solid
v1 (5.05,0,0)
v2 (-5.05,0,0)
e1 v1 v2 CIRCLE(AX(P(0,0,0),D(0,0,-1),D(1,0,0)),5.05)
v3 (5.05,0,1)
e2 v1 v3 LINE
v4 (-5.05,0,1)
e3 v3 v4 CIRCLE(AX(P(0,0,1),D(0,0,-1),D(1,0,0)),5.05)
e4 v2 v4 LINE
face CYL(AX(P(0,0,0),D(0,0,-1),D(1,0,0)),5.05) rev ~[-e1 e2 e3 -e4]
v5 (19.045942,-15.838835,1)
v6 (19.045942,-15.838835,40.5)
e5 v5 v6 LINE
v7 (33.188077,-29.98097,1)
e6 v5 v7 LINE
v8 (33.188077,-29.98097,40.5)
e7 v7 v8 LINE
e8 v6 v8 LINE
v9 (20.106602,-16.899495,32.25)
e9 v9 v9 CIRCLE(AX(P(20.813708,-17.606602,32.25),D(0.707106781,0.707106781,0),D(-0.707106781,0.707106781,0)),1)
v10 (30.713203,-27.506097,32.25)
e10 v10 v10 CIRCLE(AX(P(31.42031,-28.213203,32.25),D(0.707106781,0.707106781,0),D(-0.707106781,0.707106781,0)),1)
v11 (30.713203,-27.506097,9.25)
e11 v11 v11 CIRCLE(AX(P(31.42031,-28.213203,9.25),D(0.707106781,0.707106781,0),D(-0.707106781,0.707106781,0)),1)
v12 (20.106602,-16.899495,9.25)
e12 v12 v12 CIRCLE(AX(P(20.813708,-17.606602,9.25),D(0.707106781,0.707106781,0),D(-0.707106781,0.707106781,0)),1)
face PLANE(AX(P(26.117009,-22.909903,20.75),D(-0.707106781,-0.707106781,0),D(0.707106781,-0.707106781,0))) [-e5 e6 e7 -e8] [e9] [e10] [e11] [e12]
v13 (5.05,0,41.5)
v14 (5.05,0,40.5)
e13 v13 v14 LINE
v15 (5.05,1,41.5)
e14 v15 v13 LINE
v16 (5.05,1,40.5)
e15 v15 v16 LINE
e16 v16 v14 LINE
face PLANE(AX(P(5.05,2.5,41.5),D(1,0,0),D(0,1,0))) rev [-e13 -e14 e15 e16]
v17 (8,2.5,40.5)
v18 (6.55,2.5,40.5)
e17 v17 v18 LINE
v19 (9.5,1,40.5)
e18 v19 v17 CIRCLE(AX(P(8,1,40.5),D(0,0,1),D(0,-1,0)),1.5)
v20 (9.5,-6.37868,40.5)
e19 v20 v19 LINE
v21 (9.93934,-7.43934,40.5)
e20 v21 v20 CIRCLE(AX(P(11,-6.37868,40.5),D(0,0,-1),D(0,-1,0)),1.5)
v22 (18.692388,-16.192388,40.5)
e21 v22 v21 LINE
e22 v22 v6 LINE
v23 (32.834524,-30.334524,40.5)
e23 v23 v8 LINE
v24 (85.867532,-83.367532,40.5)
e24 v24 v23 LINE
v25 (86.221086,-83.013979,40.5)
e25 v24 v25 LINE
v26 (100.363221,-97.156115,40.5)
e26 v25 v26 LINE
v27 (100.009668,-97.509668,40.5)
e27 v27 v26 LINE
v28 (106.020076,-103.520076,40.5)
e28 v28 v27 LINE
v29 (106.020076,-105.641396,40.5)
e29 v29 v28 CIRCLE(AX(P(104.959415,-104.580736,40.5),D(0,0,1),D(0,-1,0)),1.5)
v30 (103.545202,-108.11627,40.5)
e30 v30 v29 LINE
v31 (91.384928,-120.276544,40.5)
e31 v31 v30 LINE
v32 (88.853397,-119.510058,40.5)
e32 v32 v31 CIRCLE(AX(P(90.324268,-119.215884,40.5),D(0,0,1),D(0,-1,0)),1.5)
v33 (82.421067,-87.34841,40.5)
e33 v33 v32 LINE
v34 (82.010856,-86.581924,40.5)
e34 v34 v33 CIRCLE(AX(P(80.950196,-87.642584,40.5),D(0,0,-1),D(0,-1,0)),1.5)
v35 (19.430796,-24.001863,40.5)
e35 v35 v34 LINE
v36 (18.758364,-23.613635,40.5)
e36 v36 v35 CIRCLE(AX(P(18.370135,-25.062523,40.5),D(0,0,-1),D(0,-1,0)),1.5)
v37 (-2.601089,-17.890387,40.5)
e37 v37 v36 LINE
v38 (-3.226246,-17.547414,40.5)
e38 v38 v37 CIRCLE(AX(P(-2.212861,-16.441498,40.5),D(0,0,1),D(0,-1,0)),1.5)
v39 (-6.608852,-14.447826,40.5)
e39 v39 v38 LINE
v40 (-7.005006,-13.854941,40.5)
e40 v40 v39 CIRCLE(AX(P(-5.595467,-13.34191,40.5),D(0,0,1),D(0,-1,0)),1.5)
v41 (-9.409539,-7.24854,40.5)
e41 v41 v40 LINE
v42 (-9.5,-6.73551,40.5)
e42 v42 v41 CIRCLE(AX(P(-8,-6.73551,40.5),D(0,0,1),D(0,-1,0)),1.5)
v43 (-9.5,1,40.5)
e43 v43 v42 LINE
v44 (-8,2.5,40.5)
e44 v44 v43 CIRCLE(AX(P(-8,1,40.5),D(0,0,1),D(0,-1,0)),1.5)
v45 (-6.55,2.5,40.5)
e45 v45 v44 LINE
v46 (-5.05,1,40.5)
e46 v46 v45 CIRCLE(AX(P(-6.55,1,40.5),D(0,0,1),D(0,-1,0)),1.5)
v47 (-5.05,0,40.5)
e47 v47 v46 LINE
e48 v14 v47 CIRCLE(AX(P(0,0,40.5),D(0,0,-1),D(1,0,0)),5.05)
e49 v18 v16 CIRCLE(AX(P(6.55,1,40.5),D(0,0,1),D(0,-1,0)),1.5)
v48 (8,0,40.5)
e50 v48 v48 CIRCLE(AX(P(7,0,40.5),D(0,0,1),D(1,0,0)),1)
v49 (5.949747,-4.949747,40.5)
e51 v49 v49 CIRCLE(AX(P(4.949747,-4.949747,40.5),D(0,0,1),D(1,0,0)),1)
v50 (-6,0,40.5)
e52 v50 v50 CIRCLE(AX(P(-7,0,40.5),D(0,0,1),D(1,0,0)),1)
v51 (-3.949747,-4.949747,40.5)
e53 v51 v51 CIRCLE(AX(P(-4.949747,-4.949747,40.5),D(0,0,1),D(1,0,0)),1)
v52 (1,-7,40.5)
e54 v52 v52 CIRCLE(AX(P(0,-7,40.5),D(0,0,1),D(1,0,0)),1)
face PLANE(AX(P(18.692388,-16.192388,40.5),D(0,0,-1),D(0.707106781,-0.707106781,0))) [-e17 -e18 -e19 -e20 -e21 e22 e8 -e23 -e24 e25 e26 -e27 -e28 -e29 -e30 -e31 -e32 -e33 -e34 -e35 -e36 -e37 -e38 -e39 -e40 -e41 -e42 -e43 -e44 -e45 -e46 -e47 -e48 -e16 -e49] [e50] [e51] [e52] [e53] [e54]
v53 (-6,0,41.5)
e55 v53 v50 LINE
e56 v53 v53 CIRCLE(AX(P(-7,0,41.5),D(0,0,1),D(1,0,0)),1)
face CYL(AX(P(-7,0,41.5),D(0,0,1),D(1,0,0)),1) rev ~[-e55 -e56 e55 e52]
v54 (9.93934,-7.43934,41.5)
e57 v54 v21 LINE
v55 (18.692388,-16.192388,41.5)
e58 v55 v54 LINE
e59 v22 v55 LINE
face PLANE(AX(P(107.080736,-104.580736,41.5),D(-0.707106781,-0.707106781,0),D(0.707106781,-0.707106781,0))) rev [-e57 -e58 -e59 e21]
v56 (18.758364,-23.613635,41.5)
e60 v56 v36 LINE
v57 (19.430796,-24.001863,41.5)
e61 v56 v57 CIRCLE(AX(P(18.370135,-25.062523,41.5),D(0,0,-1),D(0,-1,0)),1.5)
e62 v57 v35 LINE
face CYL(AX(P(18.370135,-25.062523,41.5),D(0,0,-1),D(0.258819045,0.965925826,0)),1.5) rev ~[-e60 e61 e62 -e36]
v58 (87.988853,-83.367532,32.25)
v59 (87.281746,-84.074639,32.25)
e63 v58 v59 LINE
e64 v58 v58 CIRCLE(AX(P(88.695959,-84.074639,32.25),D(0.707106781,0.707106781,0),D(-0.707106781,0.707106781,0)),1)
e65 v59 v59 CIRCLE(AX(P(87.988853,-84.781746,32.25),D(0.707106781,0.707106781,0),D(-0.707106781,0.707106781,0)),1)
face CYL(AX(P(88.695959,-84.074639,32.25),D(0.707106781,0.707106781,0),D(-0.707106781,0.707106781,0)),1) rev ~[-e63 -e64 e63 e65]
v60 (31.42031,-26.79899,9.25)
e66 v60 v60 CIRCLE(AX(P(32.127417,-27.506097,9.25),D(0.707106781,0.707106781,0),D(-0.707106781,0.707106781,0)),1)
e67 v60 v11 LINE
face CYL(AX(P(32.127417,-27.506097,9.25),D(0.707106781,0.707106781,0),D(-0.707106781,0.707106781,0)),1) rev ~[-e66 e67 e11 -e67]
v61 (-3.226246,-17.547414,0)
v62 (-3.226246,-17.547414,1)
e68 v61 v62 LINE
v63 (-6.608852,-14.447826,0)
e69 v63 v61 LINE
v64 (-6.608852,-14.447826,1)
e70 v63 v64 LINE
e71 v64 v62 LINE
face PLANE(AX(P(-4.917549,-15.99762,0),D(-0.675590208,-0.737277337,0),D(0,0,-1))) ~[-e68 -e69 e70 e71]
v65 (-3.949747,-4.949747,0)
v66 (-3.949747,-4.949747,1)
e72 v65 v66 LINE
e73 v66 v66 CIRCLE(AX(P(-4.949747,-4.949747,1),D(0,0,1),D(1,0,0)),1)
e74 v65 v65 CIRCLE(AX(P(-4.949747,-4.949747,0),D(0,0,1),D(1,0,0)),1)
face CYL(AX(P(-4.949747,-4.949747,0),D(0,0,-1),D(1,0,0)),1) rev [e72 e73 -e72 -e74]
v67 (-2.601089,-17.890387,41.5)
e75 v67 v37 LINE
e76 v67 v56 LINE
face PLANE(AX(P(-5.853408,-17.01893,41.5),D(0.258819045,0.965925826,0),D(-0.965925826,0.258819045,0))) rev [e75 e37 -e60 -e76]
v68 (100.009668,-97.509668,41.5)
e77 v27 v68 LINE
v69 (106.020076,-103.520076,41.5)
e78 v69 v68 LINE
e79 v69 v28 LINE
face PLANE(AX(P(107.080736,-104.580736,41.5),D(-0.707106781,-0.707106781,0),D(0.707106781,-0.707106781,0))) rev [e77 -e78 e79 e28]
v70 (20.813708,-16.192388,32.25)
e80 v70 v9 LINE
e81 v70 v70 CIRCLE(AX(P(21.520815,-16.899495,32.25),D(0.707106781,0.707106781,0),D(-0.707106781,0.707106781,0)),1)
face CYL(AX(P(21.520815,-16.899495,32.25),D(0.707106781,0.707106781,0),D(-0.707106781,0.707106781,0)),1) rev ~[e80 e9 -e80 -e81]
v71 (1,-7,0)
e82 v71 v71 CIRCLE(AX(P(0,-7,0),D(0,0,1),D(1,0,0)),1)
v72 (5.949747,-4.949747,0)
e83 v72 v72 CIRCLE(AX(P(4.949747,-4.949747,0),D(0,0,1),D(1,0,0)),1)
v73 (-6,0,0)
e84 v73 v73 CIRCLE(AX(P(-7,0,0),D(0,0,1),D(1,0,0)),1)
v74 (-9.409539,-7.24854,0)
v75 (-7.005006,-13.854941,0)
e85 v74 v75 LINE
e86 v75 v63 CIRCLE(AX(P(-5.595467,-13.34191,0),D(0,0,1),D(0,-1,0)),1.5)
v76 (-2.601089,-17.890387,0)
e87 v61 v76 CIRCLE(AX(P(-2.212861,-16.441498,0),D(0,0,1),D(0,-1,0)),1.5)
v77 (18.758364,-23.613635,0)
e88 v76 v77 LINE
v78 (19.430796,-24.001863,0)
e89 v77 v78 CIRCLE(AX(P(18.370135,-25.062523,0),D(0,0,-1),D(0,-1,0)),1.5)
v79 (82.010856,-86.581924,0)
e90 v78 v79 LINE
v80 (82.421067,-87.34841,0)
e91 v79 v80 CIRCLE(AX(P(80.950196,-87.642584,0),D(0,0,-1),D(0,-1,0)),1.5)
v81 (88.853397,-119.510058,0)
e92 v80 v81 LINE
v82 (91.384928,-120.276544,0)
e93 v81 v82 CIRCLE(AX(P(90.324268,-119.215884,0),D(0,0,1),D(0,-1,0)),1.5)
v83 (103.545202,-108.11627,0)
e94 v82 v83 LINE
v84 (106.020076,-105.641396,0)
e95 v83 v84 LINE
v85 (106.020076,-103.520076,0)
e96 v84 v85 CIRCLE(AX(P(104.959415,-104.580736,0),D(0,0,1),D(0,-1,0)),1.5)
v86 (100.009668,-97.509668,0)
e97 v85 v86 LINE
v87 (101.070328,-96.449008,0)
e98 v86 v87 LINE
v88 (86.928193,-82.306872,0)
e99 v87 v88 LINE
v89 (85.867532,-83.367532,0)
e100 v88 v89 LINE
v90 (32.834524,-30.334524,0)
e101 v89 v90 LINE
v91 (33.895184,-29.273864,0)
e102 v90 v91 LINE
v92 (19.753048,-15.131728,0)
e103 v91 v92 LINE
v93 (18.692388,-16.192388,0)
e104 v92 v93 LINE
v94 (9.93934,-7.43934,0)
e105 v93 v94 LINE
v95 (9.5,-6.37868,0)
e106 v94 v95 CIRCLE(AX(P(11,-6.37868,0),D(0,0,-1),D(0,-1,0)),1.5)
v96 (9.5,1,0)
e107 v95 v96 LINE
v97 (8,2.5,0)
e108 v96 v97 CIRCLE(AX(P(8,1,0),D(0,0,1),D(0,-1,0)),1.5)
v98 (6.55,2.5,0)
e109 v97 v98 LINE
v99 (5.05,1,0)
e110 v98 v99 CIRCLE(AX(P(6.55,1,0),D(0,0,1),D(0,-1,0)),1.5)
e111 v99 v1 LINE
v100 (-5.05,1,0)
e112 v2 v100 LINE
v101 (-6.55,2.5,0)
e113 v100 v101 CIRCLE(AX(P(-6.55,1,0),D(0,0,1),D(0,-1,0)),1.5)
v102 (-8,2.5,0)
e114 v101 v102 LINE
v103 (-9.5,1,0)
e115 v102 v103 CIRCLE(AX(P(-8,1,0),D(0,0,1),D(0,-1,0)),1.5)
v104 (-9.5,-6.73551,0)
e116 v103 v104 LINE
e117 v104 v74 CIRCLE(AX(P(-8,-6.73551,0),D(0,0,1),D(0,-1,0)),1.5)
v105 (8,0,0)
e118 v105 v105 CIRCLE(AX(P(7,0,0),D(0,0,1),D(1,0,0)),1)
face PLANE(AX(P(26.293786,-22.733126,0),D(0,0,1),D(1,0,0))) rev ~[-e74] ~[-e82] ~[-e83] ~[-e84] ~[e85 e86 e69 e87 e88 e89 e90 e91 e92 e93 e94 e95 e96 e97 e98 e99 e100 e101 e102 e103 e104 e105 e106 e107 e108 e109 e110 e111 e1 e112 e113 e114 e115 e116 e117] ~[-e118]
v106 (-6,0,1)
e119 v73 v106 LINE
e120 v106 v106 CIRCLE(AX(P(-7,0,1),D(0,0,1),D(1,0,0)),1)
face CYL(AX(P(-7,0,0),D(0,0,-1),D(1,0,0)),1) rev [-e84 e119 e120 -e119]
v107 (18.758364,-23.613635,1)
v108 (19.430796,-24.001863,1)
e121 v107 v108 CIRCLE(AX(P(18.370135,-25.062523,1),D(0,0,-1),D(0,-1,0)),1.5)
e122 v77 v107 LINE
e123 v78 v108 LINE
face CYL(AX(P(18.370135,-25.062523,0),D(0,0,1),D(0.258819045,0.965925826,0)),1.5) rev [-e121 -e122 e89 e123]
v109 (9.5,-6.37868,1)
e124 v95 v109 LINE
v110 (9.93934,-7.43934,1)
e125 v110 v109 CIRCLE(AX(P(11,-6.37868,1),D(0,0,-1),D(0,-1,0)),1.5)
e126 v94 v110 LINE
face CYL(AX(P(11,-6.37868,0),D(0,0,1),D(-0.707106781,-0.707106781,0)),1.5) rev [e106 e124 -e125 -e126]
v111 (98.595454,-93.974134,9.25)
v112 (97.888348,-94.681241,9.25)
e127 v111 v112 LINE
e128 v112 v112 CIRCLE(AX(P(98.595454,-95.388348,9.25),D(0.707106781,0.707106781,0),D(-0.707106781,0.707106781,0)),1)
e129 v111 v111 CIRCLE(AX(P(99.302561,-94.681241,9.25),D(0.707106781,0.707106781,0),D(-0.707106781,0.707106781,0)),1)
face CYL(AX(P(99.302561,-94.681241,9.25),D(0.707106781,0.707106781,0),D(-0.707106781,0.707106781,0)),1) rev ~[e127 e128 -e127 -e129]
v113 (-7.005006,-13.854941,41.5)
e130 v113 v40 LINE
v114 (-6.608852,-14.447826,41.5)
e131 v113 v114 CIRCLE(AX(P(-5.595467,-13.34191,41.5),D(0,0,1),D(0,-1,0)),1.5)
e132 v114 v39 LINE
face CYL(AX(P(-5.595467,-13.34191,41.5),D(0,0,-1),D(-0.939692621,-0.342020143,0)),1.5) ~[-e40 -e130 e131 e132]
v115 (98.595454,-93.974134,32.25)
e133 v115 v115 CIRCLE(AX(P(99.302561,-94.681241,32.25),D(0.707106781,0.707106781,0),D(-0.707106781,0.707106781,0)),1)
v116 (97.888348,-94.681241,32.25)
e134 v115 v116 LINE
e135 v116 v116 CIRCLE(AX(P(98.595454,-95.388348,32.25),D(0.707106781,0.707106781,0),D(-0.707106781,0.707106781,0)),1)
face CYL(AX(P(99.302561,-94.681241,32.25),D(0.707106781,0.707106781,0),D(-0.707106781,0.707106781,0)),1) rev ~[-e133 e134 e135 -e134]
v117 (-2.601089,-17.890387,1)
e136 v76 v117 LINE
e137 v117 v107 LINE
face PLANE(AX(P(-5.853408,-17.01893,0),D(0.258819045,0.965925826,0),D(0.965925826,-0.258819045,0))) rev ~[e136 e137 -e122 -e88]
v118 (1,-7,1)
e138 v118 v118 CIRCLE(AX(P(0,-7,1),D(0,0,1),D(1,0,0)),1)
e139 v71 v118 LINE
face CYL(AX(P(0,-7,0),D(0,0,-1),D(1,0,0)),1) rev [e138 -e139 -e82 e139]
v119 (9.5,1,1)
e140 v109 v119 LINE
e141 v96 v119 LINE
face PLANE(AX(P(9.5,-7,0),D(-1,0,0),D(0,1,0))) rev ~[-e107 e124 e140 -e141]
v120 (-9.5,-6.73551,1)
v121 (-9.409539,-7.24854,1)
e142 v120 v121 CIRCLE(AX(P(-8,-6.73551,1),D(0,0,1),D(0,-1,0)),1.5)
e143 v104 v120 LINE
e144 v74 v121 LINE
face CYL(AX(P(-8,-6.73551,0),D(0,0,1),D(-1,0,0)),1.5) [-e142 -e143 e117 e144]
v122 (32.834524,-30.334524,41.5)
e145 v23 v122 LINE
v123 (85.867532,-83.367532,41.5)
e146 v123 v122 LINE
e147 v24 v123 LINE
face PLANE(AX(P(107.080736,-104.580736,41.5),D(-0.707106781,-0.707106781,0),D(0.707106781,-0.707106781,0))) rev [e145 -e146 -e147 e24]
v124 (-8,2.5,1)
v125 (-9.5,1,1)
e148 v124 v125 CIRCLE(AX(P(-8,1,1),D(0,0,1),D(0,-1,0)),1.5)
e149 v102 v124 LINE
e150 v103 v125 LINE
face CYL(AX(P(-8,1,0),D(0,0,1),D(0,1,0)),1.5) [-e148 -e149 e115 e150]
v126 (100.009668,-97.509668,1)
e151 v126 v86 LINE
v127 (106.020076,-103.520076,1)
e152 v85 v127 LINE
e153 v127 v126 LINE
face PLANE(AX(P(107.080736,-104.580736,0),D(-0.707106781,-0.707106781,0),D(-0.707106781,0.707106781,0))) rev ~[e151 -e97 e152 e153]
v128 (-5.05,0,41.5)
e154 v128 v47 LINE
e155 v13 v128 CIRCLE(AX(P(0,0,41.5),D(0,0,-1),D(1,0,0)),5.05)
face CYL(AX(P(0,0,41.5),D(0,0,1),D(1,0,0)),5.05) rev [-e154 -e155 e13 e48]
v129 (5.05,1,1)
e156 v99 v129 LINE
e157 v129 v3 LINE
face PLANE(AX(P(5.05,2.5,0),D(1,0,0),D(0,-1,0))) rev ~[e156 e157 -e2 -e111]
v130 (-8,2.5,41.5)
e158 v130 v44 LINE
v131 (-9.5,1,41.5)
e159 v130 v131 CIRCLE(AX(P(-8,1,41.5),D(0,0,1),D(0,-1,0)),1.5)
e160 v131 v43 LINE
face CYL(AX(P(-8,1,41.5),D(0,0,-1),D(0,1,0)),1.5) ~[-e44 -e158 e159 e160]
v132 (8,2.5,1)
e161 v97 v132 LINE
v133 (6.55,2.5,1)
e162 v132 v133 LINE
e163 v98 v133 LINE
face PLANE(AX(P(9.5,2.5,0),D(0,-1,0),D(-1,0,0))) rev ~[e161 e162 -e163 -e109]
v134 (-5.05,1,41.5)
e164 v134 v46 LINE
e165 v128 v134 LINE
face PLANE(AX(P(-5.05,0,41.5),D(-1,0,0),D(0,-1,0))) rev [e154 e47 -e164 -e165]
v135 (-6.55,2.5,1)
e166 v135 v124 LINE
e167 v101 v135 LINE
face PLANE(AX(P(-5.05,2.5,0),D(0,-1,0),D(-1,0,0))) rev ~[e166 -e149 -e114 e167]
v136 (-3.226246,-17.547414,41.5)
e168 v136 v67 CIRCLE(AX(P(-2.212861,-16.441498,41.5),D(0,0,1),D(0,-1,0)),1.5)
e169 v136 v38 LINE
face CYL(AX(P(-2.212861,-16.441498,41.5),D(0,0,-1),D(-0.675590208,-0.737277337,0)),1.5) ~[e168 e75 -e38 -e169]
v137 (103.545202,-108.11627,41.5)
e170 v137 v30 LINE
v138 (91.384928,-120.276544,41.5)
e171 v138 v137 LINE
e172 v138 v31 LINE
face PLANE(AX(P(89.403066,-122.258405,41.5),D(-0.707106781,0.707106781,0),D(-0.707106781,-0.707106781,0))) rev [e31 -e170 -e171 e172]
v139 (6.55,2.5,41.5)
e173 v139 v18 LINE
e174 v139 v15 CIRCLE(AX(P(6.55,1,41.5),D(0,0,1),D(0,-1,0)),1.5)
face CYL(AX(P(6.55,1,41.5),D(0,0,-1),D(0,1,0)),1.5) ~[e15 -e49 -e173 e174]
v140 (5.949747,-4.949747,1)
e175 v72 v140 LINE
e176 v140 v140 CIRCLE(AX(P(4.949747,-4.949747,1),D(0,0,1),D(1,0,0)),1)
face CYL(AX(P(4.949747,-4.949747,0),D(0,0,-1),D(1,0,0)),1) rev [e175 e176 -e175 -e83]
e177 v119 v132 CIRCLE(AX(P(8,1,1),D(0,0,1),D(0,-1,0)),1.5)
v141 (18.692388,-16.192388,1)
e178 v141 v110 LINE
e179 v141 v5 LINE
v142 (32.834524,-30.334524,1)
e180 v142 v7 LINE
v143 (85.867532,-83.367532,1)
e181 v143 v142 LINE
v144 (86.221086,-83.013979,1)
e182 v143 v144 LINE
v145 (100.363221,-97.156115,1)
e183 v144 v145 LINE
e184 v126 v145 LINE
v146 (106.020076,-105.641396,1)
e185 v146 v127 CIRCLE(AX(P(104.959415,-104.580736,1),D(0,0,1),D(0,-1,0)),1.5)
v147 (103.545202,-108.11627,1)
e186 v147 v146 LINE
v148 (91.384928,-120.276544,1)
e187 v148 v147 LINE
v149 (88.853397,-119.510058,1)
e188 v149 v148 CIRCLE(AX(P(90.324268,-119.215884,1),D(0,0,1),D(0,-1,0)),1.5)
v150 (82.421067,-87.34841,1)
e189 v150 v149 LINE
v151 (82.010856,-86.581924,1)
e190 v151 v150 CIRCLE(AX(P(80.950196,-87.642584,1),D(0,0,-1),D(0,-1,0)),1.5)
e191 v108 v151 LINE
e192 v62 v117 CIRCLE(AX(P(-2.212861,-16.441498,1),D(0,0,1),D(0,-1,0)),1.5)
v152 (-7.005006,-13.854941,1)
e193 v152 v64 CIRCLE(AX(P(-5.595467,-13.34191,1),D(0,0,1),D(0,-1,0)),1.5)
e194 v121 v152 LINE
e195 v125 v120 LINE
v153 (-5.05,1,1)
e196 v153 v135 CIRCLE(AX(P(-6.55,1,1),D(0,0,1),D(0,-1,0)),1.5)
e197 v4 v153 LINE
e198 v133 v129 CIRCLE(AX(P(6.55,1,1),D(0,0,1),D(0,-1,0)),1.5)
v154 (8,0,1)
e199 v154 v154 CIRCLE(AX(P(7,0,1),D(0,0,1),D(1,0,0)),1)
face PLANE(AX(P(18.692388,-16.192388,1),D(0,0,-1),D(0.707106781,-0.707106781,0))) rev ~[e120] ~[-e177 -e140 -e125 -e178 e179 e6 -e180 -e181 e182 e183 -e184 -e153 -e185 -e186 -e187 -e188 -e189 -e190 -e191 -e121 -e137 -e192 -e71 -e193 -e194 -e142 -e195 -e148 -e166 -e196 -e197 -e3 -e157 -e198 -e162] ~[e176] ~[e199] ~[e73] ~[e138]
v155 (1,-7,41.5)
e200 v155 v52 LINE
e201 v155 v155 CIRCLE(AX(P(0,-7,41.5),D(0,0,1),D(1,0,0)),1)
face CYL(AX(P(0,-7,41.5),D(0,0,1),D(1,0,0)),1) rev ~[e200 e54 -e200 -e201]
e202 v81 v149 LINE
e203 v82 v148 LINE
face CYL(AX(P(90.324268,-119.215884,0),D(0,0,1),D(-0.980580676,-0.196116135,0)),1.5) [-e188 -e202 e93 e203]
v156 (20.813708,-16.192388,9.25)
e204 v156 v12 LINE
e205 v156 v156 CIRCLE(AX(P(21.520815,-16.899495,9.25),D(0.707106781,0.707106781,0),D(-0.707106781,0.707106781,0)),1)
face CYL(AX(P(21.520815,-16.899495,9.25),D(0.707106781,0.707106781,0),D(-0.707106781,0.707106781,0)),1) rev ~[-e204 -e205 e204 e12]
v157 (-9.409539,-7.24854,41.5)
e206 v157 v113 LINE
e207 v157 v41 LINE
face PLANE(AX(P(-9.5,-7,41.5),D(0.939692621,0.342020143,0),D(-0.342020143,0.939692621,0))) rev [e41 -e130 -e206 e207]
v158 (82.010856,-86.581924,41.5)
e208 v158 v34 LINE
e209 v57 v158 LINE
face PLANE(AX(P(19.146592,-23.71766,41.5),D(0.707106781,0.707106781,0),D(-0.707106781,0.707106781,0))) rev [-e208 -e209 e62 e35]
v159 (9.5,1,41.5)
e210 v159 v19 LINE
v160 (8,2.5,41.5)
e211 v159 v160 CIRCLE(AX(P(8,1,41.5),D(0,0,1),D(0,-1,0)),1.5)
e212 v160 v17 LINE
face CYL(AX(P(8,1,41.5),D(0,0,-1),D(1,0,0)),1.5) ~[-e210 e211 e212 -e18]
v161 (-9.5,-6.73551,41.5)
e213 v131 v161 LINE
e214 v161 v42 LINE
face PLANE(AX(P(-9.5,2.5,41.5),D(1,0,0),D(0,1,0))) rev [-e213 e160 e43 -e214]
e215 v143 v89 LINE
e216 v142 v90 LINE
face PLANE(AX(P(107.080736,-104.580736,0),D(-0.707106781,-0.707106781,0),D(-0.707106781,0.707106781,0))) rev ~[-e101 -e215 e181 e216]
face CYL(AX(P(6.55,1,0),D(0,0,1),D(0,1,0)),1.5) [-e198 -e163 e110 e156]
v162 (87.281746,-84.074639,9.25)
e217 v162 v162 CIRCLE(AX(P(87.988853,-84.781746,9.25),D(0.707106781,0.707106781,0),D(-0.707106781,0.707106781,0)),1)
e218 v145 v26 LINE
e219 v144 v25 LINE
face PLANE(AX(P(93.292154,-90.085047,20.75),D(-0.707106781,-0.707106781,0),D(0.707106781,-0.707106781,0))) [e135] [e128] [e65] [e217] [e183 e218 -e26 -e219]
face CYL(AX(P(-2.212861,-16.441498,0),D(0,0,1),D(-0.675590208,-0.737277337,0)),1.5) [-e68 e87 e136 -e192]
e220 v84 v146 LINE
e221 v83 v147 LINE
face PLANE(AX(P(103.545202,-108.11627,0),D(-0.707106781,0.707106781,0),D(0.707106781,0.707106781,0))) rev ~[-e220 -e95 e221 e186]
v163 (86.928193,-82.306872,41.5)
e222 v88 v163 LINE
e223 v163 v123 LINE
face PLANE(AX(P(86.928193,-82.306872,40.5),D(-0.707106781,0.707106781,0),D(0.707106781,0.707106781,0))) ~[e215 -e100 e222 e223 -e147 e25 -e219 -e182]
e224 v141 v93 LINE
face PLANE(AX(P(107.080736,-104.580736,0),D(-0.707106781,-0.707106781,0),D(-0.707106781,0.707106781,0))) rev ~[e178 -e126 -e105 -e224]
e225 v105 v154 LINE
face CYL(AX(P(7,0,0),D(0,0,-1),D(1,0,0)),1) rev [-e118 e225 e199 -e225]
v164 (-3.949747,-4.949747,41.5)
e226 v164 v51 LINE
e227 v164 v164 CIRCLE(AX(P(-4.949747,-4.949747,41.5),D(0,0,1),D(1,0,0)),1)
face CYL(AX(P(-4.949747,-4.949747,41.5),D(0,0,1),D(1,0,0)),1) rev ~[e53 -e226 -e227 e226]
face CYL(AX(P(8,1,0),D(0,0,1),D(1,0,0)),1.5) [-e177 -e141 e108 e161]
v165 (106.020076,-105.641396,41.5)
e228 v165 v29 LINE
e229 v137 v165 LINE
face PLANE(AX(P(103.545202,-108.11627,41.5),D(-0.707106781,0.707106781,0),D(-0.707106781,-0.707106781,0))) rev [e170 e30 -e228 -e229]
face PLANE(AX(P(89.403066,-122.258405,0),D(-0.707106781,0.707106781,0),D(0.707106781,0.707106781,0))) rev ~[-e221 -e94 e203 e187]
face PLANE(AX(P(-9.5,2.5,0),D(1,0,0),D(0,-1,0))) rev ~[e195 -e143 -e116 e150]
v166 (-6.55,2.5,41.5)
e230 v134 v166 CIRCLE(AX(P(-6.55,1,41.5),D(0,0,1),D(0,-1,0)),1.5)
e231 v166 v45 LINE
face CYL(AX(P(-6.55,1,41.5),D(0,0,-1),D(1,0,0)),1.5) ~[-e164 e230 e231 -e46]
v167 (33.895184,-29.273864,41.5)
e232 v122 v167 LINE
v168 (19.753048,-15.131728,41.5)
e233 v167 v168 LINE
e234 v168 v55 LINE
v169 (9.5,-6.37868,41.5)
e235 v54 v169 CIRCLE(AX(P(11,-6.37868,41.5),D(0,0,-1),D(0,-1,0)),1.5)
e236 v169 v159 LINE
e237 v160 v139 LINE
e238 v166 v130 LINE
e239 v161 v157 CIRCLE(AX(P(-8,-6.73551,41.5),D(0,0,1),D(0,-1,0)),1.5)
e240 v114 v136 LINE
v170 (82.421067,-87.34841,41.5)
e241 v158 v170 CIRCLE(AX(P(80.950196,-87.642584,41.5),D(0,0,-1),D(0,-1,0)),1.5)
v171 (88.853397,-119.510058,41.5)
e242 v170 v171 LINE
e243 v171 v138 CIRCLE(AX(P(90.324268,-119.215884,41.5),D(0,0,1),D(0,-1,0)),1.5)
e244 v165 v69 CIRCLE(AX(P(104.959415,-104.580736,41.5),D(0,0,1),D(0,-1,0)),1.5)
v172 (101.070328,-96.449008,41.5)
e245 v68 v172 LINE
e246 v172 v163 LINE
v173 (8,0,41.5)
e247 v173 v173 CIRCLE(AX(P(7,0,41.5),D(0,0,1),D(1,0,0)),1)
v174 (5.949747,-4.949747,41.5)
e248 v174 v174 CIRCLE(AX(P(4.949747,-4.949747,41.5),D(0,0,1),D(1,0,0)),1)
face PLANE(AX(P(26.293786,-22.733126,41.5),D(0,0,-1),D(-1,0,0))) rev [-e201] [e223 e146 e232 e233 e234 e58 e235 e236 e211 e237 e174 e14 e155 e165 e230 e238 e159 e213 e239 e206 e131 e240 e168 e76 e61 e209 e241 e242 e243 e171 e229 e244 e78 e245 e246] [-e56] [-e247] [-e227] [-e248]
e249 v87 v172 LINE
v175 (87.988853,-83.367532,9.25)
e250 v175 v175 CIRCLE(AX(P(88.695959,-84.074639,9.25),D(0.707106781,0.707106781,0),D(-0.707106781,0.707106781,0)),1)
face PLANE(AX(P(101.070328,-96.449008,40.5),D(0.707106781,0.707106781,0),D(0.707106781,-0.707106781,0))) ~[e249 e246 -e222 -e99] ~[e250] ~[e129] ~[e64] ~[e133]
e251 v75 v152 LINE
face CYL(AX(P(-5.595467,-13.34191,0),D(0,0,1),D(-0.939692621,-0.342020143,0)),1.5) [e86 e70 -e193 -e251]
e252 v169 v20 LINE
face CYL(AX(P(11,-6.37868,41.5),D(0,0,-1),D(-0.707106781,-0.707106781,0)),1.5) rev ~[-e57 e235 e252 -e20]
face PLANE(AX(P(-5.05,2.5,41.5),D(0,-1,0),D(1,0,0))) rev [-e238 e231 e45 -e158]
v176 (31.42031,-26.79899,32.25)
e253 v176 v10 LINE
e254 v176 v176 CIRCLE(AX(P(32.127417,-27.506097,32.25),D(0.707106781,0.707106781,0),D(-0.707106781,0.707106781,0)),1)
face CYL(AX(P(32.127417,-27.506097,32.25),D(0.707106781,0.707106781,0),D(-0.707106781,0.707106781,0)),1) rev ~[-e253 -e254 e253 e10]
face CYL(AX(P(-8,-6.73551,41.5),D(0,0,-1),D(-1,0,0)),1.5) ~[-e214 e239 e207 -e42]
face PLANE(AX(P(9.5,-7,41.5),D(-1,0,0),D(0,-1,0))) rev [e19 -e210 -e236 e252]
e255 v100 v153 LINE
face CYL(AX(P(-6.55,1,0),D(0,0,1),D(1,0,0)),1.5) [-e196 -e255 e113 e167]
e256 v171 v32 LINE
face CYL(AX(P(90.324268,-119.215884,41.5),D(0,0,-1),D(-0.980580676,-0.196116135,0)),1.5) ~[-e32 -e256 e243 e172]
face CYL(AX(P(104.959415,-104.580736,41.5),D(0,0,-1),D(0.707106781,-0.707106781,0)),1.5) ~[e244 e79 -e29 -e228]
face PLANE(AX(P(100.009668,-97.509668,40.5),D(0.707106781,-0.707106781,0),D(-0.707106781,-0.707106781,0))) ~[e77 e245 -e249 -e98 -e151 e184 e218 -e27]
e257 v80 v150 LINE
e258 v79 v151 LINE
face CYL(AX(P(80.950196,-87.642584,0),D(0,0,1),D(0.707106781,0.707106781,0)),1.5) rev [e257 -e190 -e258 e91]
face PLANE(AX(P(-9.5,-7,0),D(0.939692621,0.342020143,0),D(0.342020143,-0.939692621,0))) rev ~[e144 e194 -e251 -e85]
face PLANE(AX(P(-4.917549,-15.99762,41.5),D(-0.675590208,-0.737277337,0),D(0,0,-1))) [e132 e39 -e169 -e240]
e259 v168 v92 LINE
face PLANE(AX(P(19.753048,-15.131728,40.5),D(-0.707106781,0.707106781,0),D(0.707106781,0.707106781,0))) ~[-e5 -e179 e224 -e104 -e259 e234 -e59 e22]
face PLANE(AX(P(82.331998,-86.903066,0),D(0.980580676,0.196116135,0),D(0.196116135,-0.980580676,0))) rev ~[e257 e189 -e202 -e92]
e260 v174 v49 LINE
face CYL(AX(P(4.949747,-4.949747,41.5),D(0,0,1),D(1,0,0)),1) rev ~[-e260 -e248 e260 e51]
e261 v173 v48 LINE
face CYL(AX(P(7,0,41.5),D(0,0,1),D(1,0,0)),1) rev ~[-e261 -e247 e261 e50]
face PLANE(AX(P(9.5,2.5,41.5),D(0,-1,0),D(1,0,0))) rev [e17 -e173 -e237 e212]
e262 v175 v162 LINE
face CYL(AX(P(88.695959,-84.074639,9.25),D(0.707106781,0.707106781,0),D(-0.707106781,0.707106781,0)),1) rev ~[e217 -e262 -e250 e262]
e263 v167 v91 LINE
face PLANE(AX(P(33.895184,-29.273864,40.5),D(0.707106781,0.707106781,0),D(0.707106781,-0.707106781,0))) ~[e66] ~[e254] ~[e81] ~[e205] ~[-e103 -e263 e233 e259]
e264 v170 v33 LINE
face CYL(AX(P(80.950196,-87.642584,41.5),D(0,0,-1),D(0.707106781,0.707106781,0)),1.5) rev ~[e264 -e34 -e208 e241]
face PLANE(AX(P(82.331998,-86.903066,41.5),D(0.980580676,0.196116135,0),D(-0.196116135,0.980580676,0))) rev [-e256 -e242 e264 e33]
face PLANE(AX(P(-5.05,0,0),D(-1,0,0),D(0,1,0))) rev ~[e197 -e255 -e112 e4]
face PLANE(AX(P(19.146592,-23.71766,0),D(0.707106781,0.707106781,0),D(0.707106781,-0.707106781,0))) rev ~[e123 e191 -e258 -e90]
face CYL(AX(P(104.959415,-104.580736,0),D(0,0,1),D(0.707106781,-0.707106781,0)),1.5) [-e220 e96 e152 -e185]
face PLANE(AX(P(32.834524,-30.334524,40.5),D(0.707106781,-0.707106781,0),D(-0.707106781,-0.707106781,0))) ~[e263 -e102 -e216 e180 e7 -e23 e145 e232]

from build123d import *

# Parameters (mm, degrees)
F0_R          = 1
F1_DEPTH      = 1
F2_R          = 1.5
F3_SIZE       = 3
F4_R          = 1.5
F6_DEPTH      = 19.75
F6_DEPTH_BACK = 1
F9_R          = 1
F10_DEPTH     = 1.5
F11_W         = 20
F11_H         = 39.5
F11_R         = 1
F12_DEPTH     = 0.5


with BuildPart() as f1:
    # F0 (on Top) → F1 (new body)
    with BuildSketch(Plane.XY):
        with BuildLine():
            ThreePointArc((5.05, 0), (0, -5.05), (-5.05, 0))
            Line((-5.05, 0), (-5.05, 2.5))
            Line((-5.05, 2.5), (-9.5, 2.5))
            Line((-9.5, 2.5), (-9.5, 0))
            Line((-9.5, 0), (-9.5, -7))
            Line((-9.5, -7), (-5.853407529, -17.0189304721))
            Line((-5.853407529, -17.0189304721), (19.146592471, -23.7176602829))
            Line((19.146592471, -23.7176602829), (82.3319984622, -86.9030662741))
            Line((82.3319984622, -86.9030662741), (103.5452018978, -108.1162697097))
            Line((103.5452018978, -108.1162697097), (107.0807358037, -104.5807358037))
            Line((107.0807358037, -104.5807358037), (9.5, -7))
            Line((9.5, -7), (9.5, 0))
            Line((9.5, 0), (9.5, 2.5))
            Line((9.5, 2.5), (5.05, 2.5))
            Line((5.05, 2.5), (5.05, 0))
        make_face()
        with Locations((0, -7)):
            Circle(F0_R, mode=Mode.SUBTRACT)
        with Locations((-4.9497474683, -4.9497474683)):
            Circle(F0_R, mode=Mode.SUBTRACT)
        with Locations((-7, 0)):
            Circle(F0_R, mode=Mode.SUBTRACT)
        with Locations((4.9497474683, -4.9497474683)):
            Circle(F0_R, mode=Mode.SUBTRACT)
        with Locations((7, 0)):
            Circle(F0_R, mode=Mode.SUBTRACT)
        Polygon((89.4030662741, -122.2584053334), (103.5452018978, -108.1162697097), (82.3319984622, -86.9030662741), align=None)
    extrude(amount=F1_DEPTH)

    # F2
    f2_edges = [f1.edges().sort_by_distance(p)[0] for p in [
        (89.403066, -122.258405, 0.5),
        (82.331998, -86.903066, 0.5),
        (107.080736, -104.580736, 0.5),
        (19.146592, -23.71766, 0.5),
        (9.5, -7, 0.5),
        (9.5, 2.5, 0.5),
        (-5.05, 2.5, 0.5),
        (5.05, 2.5, 0.5),
        (-9.5, 2.5, 0.5),
        (-9.5, -7, 0.5),
    ]]
    fillet(f2_edges, radius=F2_R)

    # F3
    f3_edges = [f1.edges().sort_by_distance(p)[0] for p in [
        (-5.853408, -17.01893, 0.5),
    ]]
    chamfer(f3_edges, length=F3_SIZE)

    # F4
    f4_edges = [f1.edges().sort_by_distance(p)[0] for p in [
        (-6.879468, -14.199853, 0.5),
        (-2.95563, -17.795388, 0.5),
    ]]
    fillet(f4_edges, radius=F4_R)

    # F5 (on face) → F6 (join, two sides)
    with BuildSketch(Plane.XY.offset(1)) as f6_sk:
        Polygon((19.7530483272, -15.1317279836), (18.6923881554, -16.1923881554), (32.8345237792, -30.3345237792), (33.8951839509, -29.2738636074), align=None)
        Polygon((85.8675323681, -83.3675323681), (100.0096679919, -97.5096679919), (101.0703281637, -96.4490078201), (86.9281925399, -82.3068721964), align=None)
    extrude(amount=F6_DEPTH)
    extrude(f6_sk.sketch, amount=-F6_DEPTH_BACK)

    # F8: F1 across plane


with BuildPart() as f1_1:
    add(f1.part)
    add(f1.part.mirror(Plane(origin=(26.2937860532, -22.7331258814, 20.75), x_dir=(1, 0, 0), z_dir=(0, 0, 1))))

    # F9 (on face) → F10 (cut, through all)
    with BuildSketch(Plane(origin=(2.3106601718, 2.3106601718, 0), x_dir=(-0.7071067812, 0.7071067812, 0), z_dir=(0.7071067812, 0.7071067812, 0))):
        with Locations((-27.1672618896, 32.25)):
            Circle(F9_R)
        with Locations((-27.1672618896, 9.25)):
            Circle(F9_R)
        with Locations((-42.1672618896, 32.25)):
            Circle(F9_R)
        with Locations((-42.1672618896, 9.25)):
            Circle(F9_R)
        with Locations((-137.1672618896, 32.25)):
            Circle(F9_R)
        with Locations((-137.1672618896, 9.25)):
            Circle(F9_R)
        with Locations((-122.1672618896, 9.25)):
            Circle(F9_R)
        with Locations((-122.1672618896, 32.25)):
            Circle(F9_R)
    extrude(amount=-F10_DEPTH, mode=Mode.SUBTRACT)

    # F11 (on face) → F12 (cut)
    with BuildSketch(Plane(origin=(1.25, 1.25, 0), x_dir=(0.7071067812, -0.7071067812, 0), z_dir=(-0.7071067812, -0.7071067812, 0))):
        with Locations((34.6672618896, 20.75)):
            Rectangle(F11_W, F11_H)
        with Locations((27.1672618898, 9.25)):
            Circle(F11_R, mode=Mode.SUBTRACT)
        with Locations((42.1672618897, 9.25)):
            Circle(F11_R, mode=Mode.SUBTRACT)
        with Locations((27.1672618898, 32.25)):
            Circle(F11_R, mode=Mode.SUBTRACT)
        with Locations((42.1672618897, 32.25)):
            Circle(F11_R, mode=Mode.SUBTRACT)
        with Locations((129.6672618896, 20.75)):
            Rectangle(F11_W, F11_H)
        with Locations((122.1672618897, 9.25)):
            Circle(F11_R, mode=Mode.SUBTRACT)
        with Locations((137.1672618897, 9.25)):
            Circle(F11_R, mode=Mode.SUBTRACT)
        with Locations((122.1672618897, 32.25)):
            Circle(F11_R, mode=Mode.SUBTRACT)
        with Locations((137.1672618897, 32.25)):
            Circle(F11_R, mode=Mode.SUBTRACT)
    extrude(amount=-F12_DEPTH, mode=Mode.SUBTRACT)


solid = f1_1.part
